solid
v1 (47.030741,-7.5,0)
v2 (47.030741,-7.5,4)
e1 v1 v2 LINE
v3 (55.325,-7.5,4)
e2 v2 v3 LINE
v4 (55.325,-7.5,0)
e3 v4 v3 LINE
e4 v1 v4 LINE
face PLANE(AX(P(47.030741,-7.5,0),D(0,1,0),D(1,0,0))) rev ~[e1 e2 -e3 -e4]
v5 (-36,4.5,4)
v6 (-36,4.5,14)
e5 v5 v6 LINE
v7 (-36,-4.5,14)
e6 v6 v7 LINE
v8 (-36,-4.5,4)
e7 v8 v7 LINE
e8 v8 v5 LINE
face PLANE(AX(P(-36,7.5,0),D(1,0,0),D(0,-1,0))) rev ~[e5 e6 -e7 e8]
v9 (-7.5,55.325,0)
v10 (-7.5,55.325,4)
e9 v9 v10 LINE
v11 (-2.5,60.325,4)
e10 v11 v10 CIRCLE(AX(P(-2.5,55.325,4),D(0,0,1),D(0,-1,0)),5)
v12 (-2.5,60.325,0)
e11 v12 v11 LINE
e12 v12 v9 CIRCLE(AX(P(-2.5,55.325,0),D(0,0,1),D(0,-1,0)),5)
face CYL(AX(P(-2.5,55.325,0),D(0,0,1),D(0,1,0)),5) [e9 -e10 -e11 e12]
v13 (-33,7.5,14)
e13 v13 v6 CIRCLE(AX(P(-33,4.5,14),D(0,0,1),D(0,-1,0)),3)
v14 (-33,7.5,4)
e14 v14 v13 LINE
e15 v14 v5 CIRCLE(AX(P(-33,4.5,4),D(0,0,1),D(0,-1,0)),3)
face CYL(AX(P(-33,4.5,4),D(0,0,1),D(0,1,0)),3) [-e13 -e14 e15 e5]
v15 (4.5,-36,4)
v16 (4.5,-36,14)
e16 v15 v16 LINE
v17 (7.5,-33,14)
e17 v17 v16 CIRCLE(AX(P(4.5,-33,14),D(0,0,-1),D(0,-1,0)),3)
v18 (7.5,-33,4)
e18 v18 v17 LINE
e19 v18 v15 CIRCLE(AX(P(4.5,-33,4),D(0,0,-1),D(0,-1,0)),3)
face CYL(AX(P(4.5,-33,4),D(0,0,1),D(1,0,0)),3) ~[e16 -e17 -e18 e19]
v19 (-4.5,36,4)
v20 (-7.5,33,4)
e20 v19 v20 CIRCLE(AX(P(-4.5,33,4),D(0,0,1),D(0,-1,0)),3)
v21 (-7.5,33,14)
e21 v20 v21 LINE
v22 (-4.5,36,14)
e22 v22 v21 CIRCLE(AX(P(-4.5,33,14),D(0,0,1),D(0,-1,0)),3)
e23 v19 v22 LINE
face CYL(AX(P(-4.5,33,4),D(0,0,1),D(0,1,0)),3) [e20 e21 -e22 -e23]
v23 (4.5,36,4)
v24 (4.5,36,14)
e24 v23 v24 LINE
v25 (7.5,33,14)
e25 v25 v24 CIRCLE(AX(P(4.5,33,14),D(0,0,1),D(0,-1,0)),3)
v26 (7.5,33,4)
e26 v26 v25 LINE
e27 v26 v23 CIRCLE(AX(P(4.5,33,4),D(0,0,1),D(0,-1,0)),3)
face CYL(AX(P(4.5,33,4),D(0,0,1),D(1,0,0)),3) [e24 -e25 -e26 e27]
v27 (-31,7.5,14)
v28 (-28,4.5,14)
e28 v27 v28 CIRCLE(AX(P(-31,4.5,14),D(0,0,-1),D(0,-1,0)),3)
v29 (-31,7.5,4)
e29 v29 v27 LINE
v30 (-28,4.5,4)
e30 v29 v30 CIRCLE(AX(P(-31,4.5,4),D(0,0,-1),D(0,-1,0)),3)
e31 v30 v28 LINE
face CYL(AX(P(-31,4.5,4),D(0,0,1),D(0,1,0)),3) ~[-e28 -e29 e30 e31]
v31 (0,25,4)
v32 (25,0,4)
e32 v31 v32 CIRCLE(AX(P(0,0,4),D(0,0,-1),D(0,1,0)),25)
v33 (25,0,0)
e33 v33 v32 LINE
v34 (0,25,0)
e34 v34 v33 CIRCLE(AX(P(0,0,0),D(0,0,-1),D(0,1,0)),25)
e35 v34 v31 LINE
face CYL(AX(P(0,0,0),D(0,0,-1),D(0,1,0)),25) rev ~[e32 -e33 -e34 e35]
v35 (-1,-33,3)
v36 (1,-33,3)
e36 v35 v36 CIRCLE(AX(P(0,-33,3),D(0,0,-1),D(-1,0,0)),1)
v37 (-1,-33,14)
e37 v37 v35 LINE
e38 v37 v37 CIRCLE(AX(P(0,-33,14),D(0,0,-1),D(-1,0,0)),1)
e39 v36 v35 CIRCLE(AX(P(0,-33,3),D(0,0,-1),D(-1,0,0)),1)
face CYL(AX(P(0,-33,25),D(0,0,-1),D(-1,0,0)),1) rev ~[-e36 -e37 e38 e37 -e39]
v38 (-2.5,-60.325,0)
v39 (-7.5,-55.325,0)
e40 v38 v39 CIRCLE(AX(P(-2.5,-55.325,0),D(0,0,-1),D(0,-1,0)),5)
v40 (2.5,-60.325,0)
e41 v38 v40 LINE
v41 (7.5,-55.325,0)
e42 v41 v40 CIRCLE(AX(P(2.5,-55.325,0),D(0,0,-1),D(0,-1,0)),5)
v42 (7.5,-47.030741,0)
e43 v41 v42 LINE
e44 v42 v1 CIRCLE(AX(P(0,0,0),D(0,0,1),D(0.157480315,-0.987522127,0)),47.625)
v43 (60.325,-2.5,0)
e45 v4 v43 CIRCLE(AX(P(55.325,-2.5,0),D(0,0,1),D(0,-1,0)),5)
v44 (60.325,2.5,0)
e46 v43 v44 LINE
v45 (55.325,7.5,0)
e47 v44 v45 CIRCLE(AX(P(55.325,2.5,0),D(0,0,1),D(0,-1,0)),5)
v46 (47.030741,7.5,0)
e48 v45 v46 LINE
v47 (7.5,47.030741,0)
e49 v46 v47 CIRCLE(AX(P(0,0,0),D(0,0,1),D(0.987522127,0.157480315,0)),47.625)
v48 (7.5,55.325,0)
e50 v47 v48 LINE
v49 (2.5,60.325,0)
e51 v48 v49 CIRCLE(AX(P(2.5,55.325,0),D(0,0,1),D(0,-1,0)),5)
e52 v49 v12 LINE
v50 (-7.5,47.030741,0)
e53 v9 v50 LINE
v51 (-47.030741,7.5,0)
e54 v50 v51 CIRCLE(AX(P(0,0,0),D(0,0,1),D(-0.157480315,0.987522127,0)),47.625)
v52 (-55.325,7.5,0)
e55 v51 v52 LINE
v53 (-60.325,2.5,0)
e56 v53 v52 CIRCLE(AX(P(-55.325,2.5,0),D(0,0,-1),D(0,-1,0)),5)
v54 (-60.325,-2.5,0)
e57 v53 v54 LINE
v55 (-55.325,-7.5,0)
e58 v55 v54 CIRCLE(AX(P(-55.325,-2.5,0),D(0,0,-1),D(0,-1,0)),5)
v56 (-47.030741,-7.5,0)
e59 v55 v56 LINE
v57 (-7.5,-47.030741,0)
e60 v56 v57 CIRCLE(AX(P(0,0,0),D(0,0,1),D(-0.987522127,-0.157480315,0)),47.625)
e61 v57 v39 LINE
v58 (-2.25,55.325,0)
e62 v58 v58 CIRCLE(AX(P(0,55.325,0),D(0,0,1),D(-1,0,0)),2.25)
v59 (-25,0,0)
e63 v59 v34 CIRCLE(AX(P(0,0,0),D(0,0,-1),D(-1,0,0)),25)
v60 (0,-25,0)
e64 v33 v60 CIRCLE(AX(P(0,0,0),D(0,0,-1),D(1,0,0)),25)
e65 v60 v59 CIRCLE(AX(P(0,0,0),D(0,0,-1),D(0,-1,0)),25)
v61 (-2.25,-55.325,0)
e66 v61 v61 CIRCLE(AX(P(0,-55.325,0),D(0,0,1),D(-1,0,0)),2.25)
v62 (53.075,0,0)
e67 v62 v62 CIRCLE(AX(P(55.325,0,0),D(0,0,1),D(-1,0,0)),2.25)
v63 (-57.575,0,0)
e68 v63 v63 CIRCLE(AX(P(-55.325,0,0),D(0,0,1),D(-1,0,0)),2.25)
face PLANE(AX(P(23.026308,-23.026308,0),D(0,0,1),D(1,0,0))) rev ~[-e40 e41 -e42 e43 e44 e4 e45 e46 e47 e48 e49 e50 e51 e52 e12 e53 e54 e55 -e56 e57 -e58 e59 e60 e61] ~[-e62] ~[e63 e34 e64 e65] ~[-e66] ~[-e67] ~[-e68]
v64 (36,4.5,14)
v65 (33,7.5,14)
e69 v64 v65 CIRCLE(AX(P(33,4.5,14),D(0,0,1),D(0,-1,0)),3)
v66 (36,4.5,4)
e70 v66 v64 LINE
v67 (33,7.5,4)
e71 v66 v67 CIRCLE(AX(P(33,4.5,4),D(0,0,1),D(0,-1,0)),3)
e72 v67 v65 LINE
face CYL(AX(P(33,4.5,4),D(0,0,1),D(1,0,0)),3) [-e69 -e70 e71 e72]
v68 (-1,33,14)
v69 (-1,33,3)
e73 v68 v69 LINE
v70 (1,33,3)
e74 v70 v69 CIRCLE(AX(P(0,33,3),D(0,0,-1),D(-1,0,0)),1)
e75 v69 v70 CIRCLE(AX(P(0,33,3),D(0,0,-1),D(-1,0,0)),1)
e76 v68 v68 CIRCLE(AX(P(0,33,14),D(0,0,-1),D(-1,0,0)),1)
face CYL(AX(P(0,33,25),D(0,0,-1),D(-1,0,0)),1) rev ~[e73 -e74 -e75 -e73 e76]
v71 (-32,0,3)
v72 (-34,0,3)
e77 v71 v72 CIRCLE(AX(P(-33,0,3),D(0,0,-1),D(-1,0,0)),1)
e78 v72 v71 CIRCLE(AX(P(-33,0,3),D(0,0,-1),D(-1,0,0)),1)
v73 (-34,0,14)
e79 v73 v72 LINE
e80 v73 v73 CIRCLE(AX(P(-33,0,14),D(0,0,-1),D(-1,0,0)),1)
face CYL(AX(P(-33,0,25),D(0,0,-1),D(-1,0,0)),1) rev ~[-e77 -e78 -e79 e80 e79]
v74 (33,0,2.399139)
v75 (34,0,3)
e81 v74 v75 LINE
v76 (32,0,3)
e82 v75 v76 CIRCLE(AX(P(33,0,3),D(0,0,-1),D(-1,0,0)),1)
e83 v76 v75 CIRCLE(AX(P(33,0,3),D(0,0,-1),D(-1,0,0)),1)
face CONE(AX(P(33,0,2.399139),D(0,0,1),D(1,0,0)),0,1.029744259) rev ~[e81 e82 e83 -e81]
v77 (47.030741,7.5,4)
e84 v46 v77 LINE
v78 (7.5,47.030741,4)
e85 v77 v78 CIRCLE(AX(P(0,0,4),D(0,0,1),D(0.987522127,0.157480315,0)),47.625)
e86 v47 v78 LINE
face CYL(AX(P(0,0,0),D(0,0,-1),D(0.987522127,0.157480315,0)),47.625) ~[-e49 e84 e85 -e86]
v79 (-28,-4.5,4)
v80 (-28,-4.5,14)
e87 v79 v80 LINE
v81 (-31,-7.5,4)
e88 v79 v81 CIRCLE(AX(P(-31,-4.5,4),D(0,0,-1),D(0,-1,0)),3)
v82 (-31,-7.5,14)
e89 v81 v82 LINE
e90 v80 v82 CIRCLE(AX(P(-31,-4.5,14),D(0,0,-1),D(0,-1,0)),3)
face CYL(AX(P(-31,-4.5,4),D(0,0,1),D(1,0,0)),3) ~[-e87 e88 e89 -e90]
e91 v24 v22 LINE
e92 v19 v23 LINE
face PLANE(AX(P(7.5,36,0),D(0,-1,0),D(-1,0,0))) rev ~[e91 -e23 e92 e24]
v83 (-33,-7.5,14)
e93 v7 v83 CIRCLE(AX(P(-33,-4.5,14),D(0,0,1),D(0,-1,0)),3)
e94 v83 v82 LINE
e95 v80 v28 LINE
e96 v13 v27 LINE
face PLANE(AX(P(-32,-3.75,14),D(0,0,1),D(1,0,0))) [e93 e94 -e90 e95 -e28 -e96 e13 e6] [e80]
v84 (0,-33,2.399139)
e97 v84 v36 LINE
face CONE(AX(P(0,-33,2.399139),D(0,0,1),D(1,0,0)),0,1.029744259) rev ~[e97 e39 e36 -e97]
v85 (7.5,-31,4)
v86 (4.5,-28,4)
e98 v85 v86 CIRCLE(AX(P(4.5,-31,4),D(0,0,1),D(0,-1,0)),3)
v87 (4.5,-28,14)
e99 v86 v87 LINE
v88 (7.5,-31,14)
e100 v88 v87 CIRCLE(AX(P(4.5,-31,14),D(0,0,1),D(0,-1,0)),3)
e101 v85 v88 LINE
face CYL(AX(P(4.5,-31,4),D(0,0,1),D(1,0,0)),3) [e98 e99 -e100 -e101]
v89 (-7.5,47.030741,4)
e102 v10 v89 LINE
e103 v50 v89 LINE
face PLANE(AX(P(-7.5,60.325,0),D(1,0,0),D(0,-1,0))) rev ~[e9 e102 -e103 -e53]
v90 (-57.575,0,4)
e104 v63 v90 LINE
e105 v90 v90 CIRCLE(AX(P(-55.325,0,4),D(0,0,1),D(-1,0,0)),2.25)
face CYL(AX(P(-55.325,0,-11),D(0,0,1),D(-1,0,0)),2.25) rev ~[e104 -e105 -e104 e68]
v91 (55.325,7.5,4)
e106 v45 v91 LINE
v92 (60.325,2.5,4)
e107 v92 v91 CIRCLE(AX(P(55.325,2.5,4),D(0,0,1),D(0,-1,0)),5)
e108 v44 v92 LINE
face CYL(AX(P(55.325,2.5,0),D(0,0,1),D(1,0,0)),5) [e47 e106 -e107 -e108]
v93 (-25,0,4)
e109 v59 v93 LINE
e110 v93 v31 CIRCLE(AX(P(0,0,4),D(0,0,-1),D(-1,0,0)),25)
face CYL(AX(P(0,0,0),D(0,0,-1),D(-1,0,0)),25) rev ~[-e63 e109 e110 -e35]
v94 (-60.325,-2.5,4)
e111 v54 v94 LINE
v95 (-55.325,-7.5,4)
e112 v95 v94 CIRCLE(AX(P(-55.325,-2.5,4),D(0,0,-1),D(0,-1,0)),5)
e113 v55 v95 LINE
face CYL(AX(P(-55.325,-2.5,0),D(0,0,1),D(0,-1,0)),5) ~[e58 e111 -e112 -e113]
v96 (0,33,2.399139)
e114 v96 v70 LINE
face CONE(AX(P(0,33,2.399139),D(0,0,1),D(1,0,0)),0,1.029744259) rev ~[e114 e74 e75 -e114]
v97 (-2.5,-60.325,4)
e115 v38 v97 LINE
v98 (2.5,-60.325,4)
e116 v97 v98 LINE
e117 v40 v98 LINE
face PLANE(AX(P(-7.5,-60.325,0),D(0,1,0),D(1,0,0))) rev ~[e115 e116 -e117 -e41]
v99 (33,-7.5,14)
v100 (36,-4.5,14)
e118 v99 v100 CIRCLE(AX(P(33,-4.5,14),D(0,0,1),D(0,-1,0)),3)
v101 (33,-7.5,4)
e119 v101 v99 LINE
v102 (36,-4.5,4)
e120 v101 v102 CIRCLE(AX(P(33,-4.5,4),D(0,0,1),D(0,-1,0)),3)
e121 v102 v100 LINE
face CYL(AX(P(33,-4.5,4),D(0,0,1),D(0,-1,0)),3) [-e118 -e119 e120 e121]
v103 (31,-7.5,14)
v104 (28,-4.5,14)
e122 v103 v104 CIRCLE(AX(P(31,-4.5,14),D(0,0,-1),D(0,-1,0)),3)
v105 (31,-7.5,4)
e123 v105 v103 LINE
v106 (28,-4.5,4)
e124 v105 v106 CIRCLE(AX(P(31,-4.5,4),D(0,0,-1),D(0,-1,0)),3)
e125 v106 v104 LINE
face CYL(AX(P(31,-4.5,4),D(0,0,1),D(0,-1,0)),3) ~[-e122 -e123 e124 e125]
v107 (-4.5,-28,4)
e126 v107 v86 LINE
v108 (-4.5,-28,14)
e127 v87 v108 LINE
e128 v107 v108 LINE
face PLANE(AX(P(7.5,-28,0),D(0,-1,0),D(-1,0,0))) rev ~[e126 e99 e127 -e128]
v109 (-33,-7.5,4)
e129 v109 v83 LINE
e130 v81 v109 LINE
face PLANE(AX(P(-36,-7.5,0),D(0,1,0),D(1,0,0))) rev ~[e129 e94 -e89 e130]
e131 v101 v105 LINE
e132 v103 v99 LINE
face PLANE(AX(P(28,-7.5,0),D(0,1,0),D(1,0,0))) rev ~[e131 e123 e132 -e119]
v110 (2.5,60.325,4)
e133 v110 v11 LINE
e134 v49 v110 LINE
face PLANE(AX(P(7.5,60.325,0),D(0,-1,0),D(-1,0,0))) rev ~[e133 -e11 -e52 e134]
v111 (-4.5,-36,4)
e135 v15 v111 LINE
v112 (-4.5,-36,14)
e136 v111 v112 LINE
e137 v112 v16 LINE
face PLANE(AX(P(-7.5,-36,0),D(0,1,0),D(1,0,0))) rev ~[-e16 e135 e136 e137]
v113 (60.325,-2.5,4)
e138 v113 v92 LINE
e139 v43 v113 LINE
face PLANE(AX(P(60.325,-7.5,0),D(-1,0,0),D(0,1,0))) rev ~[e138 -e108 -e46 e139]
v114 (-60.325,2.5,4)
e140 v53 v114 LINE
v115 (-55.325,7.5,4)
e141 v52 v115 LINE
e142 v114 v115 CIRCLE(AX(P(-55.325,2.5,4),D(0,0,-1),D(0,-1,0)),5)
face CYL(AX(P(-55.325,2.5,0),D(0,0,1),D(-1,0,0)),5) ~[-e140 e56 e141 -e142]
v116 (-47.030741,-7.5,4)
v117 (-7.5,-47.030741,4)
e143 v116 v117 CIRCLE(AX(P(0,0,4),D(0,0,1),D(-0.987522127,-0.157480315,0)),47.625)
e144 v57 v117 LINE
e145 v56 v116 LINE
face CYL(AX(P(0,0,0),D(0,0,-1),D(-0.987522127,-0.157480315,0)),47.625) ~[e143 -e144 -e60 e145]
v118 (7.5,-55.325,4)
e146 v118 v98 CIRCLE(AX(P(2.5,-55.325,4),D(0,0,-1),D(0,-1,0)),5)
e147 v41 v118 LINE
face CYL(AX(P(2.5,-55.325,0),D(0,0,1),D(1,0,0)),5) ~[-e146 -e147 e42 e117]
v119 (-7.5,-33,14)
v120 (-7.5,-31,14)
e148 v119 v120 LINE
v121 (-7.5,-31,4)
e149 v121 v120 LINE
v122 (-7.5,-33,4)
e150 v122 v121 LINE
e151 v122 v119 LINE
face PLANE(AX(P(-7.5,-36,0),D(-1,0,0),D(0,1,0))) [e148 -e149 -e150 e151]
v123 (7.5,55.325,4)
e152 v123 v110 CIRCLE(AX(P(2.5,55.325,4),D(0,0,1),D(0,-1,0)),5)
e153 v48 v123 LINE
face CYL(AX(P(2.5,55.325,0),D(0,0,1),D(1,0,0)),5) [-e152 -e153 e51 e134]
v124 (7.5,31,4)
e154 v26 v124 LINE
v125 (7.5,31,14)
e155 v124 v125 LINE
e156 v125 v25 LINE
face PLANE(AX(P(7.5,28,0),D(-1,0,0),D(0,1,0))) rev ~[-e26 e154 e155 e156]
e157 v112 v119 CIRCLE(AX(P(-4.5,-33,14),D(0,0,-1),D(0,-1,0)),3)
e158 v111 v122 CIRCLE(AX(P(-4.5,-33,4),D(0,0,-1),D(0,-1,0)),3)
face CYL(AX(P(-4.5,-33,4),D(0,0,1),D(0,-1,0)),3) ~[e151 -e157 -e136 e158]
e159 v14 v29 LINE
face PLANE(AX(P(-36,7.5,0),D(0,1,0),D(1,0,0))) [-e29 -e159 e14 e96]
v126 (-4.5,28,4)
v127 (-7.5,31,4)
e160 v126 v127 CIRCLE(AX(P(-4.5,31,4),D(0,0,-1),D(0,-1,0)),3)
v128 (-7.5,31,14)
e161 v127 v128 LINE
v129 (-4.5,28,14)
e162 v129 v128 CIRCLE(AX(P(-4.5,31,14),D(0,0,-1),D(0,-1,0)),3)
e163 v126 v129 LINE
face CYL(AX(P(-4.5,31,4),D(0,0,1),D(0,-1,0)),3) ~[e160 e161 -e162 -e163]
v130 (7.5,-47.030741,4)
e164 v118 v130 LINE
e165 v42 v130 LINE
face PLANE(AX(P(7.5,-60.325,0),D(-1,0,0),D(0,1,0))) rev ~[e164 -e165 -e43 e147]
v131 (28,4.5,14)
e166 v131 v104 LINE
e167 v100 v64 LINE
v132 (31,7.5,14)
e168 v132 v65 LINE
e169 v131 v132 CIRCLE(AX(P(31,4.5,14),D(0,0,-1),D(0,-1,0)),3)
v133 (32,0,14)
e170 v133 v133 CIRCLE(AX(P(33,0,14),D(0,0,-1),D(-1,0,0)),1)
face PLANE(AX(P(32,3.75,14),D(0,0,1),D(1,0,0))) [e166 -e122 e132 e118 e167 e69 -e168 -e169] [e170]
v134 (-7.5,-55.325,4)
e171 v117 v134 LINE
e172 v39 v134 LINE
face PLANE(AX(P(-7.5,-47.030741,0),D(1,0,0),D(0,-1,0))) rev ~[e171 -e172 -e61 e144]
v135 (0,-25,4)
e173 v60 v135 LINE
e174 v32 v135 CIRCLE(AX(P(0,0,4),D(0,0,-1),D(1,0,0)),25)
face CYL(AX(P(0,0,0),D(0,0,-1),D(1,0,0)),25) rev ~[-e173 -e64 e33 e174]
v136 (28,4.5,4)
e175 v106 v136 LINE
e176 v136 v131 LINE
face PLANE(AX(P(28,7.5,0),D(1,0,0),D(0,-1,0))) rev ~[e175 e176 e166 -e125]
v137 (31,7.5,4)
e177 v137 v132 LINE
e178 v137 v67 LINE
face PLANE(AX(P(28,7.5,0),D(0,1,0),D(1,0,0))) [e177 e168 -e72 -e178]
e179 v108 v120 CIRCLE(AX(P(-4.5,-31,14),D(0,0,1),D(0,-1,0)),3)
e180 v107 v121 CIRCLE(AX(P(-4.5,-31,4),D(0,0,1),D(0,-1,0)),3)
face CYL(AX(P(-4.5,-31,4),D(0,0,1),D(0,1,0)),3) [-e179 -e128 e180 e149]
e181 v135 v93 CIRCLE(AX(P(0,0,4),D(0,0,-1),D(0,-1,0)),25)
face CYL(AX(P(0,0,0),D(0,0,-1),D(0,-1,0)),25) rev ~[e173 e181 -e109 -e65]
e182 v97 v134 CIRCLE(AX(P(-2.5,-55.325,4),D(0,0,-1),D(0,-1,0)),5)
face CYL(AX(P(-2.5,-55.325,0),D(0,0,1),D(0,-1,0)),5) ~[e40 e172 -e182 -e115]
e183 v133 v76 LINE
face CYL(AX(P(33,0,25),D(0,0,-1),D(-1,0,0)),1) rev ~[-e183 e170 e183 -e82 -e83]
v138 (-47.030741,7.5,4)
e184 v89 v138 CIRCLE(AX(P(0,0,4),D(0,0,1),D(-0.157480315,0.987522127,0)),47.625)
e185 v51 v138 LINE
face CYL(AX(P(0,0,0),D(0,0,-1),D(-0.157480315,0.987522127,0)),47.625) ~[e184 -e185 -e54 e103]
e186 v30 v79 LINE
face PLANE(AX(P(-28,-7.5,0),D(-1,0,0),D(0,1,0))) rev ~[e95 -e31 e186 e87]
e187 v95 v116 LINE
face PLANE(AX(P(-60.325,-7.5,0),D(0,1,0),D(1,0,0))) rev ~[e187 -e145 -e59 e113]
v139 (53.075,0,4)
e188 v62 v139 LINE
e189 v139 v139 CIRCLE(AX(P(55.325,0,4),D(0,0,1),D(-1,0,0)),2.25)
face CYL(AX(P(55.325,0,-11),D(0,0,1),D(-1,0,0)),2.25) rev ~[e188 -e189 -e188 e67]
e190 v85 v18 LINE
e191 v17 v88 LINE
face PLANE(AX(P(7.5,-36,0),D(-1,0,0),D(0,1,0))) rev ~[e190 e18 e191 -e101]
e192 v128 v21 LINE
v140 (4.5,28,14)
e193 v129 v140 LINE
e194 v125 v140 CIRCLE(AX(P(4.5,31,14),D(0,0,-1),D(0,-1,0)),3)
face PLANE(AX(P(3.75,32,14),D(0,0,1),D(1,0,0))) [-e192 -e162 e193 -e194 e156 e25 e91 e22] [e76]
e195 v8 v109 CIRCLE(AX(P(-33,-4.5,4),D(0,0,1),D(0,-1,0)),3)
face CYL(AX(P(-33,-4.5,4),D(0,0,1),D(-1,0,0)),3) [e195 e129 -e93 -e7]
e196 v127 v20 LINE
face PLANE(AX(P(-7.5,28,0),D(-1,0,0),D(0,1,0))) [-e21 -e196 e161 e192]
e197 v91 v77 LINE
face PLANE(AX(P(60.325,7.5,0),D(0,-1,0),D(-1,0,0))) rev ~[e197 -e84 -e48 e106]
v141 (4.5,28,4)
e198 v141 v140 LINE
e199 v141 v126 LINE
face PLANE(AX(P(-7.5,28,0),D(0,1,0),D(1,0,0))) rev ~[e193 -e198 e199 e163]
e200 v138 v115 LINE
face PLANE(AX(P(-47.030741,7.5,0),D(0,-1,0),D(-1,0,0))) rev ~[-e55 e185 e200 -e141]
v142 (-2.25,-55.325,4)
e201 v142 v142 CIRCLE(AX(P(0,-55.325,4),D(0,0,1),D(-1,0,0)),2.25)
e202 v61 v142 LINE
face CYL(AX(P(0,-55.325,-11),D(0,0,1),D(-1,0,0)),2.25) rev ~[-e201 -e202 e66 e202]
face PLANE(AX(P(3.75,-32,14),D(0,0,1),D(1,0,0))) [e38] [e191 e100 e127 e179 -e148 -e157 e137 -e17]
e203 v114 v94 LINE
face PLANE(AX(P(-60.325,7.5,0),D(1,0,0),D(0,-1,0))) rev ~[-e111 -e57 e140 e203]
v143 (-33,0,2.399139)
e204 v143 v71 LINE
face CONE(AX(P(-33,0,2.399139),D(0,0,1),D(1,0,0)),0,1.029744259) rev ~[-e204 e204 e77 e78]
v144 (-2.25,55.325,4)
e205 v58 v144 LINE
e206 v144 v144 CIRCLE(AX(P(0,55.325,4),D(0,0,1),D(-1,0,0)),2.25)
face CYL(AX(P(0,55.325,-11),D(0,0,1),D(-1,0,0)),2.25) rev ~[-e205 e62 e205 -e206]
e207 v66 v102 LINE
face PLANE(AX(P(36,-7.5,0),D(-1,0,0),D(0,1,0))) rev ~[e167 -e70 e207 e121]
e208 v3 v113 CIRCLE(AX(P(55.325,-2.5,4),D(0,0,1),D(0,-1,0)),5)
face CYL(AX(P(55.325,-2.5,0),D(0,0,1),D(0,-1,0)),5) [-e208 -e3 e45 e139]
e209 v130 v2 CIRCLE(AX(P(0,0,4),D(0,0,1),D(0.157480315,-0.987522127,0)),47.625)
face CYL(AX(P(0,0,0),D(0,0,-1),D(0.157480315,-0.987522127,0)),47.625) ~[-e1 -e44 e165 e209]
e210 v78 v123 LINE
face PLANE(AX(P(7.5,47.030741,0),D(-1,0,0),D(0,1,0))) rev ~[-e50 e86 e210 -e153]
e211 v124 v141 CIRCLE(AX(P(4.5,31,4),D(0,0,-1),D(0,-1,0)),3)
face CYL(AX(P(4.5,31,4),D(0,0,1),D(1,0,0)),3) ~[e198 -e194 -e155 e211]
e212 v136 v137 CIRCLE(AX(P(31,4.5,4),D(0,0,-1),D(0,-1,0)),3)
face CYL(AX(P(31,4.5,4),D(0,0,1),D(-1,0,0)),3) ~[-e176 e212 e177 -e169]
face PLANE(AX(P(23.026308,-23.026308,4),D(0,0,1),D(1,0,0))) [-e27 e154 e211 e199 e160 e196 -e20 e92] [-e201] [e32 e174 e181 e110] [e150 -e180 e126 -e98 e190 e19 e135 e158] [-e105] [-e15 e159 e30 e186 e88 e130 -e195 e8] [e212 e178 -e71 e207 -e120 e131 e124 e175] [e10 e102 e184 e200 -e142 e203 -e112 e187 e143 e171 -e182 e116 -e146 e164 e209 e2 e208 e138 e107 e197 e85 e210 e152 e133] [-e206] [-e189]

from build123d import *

# Parameters (mm, degrees)
F1_DEPTH = 4
F0_W     = 7.5
F0_H     = 8
F0_W_2   = 8
F0_H_2   = 7.5
F2_DEPTH = 14
F4_D     = 2
F4_DEPTH = 11
F4_TIP   = 0.600860619
F5_D     = 4.5
F5_DEPTH = 11
F5_TIP   = 1.3519363928
F6_R     = 5
F7_R     = 3


with BuildPart() as f1:
    # F0 (on Top) → F1 (new body)
    with BuildSketch(Plane.XY):
        with BuildLine():
            Line((28, 0), (25, 0))
            ThreePointArc((25, 0), (17.6776695297, -17.6776695297), (0, -25))
            Line((0, -25), (0, -28))
            Line((0, -28), (7.5, -28))
            Line((7.5, -28), (7.5, -36))
            Line((7.5, -36), (7.5, -47.0307412763))
            ThreePointArc((7.5, -47.0307412763), (33.675960454, -33.675960454), (47.0307412763, -7.5))
            Line((47.0307412763, -7.5), (36, -7.5))
            Line((36, -7.5), (28, -7.5))
            Line((28, -7.5), (28, 0))
        make_face()
        with BuildLine():
            ThreePointArc((0, 25), (17.6776695297, 17.6776695297), (25, 0))
            Line((25, 0), (28, 0))
            Line((28, 0), (28, 7.5))
            Line((28, 7.5), (36, 7.5))
            Line((36, 7.5), (47.0307412763, 7.5))
            ThreePointArc((47.0307412763, 7.5), (33.675960454, 33.675960454), (7.5, 47.0307412763))
            Line((7.5, 47.0307412763), (7.5, 36))
            Line((7.5, 36), (7.5, 28))
            Line((7.5, 28), (0, 28))
            Line((0, 28), (0, 25))
        make_face()
        with BuildLine():
            ThreePointArc((-25, 0), (-17.6776695297, 17.6776695297), (0, 25))
            Line((0, 25), (0, 28))
            Line((0, 28), (-7.5, 28))
            Line((-7.5, 28), (-7.5, 36))
            Line((-7.5, 36), (-7.5, 47.0307412763))
            ThreePointArc((-7.5, 47.0307412763), (-33.675960454, 33.675960454), (-47.0307412763, 7.5))
            Line((-47.0307412763, 7.5), (-36, 7.5))
            Line((-36, 7.5), (-28, 7.5))
            Line((-28, 7.5), (-28, 0))
            Line((-28, 0), (-25, 0))
        make_face()
        with BuildLine():
            Line((0, -28), (0, -25))
            ThreePointArc((0, -25), (-17.6776695297, -17.6776695297), (-25, 0))
            Line((-25, 0), (-28, 0))
            Line((-28, 0), (-28, -7.5))
            Line((-28, -7.5), (-36, -7.5))
            Line((-36, -7.5), (-47.0307412763, -7.5))
            ThreePointArc((-47.0307412763, -7.5), (-33.675960454, -33.675960454), (-7.5, -47.0307412763))
            Line((-7.5, -47.0307412763), (-7.5, -36))
            Line((-7.5, -36), (-7.5, -28))
            Line((-7.5, -28), (0, -28))
        make_face()
        with BuildLine():
            Line((36, 7.5), (36, 0))
            Line((36, 0), (47.625, 0))
            ThreePointArc((47.625, 0), (47.476202872, 3.7617530299), (47.0307412763, 7.5))
            Line((47.0307412763, 7.5), (36, 7.5))
        make_face()
        with BuildLine():
            Line((47.625, 0), (36, 0))
            Line((36, 0), (36, -7.5))
            Line((36, -7.5), (47.0307412763, -7.5))
            ThreePointArc((47.0307412763, -7.5), (47.476202872, -3.7617530299), (47.625, 0))
        make_face()
        with BuildLine():
            Line((-7.5, 36), (0, 36))
            Line((0, 36), (0, 47.625))
            ThreePointArc((0, 47.625), (-3.7617530299, 47.476202872), (-7.5, 47.0307412763))
            Line((-7.5, 47.0307412763), (-7.5, 36))
        make_face()
        with BuildLine():
            Line((0, 47.625), (0, 36))
            Line((0, 36), (7.5, 36))
            Line((7.5, 36), (7.5, 47.0307412763))
            ThreePointArc((7.5, 47.0307412763), (3.7617530299, 47.476202872), (0, 47.625))
        make_face()
        with BuildLine():
            Line((7.5, -36), (0, -36))
            Line((0, -36), (0, -47.625))
            ThreePointArc((0, -47.625), (3.7617530299, -47.476202872), (7.5, -47.0307412763))
            Line((7.5, -47.0307412763), (7.5, -36))
        make_face()
        with BuildLine():
            Line((0, -47.625), (0, -36))
            Line((0, -36), (-7.5, -36))
            Line((-7.5, -36), (-7.5, -47.0307412763))
            ThreePointArc((-7.5, -47.0307412763), (-3.7617530299, -47.476202872), (0, -47.625))
        make_face()
        with BuildLine():
            ThreePointArc((47.0307412763, 7.5), (47.476202872, 3.7617530299), (47.625, 0))
            ThreePointArc((47.625, 0), (47.476202872, -3.7617530299), (47.0307412763, -7.5))
            Line((47.0307412763, -7.5), (60.325, -7.5))
            Line((60.325, -7.5), (60.325, 7.5))
            Line((60.325, 7.5), (47.0307412763, 7.5))
        make_face()
        with BuildLine():
            Line((-36, -7.5), (-36, 0))
            Line((-36, 0), (-47.625, 0))
            ThreePointArc((-47.625, 0), (-47.476202872, -3.7617530299), (-47.0307412763, -7.5))
            Line((-47.0307412763, -7.5), (-36, -7.5))
        make_face()
        with BuildLine():
            Line((-47.625, 0), (-36, 0))
            Line((-36, 0), (-36, 7.5))
            Line((-36, 7.5), (-47.0307412763, 7.5))
            ThreePointArc((-47.0307412763, 7.5), (-47.476202872, 3.7617530299), (-47.625, 0))
        make_face()
        with BuildLine():
            ThreePointArc((-7.5, 47.0307412763), (-3.7617530299, 47.476202872), (0, 47.625))
            ThreePointArc((0, 47.625), (3.7617530299, 47.476202872), (7.5, 47.0307412763))
            Line((7.5, 47.0307412763), (7.5, 60.325))
            Line((7.5, 60.325), (-7.5, 60.325))
            Line((-7.5, 60.325), (-7.5, 47.0307412763))
        make_face()
        with BuildLine():
            ThreePointArc((7.5, -47.0307412763), (3.7617530299, -47.476202872), (0, -47.625))
            ThreePointArc((0, -47.625), (-3.7617530299, -47.476202872), (-7.5, -47.0307412763))
            Line((-7.5, -47.0307412763), (-7.5, -60.325))
            Line((-7.5, -60.325), (7.5, -60.325))
            Line((7.5, -60.325), (7.5, -47.0307412763))
        make_face()
        with BuildLine():
            ThreePointArc((-47.0307412763, -7.5), (-47.476202872, -3.7617530299), (-47.625, 0))
            ThreePointArc((-47.625, 0), (-47.476202872, 3.7617530299), (-47.0307412763, 7.5))
            Line((-47.0307412763, 7.5), (-60.325, 7.5))
            Line((-60.325, 7.5), (-60.325, -7.5))
            Line((-60.325, -7.5), (-47.0307412763, -7.5))
        make_face()
    extrude(amount=F1_DEPTH)

    # F0 (on Top) → F2 (join)
    with BuildSketch(Plane.XY):
        with Locations((3.75, 32)):
            Rectangle(F0_W, F0_H)
        with Locations((-3.75, 32)):
            Rectangle(F0_W, F0_H)
        with Locations((32, 3.75)):
            Rectangle(F0_W_2, F0_H_2)
        with Locations((32, -3.75)):
            Rectangle(F0_W_2, F0_H_2)
        with Locations((3.75, -32)):
            Rectangle(F0_W, F0_H)
        with Locations((-3.75, -32)):
            Rectangle(F0_W, F0_H)
        with Locations((-32, -3.75)):
            Rectangle(F0_W_2, F0_H_2)
        with Locations((-32, 3.75)):
            Rectangle(F0_W_2, F0_H_2)
    extrude(amount=F2_DEPTH)

    # F4
    with Locations(Plane.XY.offset(14)):
        with Locations((0, 33), (33, 0), (0, -33), (-33, 0)):
            Hole(F4_D / 2, depth=F4_DEPTH)
            with Locations((0, 0, -(F4_DEPTH + F4_TIP / 2))):  # 118° drill point
                Cone(0, F4_D / 2, F4_TIP, mode=Mode.SUBTRACT)

    # F5
    with Locations(Plane(origin=(0, 0, 0), x_dir=(1, 0, 0), z_dir=(0, 0, -1))):
        with Locations((0, -55.325), (55.325, 0), (0, 55.325), (-55.325, 0)):
            Hole(F5_D / 2, depth=F5_DEPTH)
            with Locations((0, 0, -(F5_DEPTH + F5_TIP / 2))):  # 118° drill point
                Cone(0, F5_D / 2, F5_TIP, mode=Mode.SUBTRACT)

    # F6
    f6_edges = [f1.edges().sort_by_distance(p)[0] for p in [
        (7.5, 60.325, 2),
        (-7.5, 60.325, 2),
        (-60.325, 7.5, 2),
        (-60.325, -7.5, 2),
        (7.5, -60.325, 2),
        (-7.5, -60.325, 2),
        (60.325, -7.5, 2),
        (60.325, 7.5, 2),
    ]]
    fillet(f6_edges, radius=F6_R)

    # F7
    f7_edges = [f1.edges().sort_by_distance(p)[0] for p in [
        (7.5, 28, 9),
        (7.5, 36, 9),
        (-7.5, 28, 9),
        (-7.5, 36, 9),
        (-36, -7.5, 9),
        (-28, -7.5, 9),
        (-36, 7.5, 9),
        (-28, 7.5, 9),
        (-7.5, -28, 9),
        (7.5, -28, 9),
        (36, 7.5, 9),
        (28, 7.5, 9),
        (36, -7.5, 9),
        (28, -7.5, 9),
        (7.5, -36, 9),
        (-7.5, -36, 9),
    ]]
    fillet(f7_edges, radius=F7_R)


solid = f1.part
